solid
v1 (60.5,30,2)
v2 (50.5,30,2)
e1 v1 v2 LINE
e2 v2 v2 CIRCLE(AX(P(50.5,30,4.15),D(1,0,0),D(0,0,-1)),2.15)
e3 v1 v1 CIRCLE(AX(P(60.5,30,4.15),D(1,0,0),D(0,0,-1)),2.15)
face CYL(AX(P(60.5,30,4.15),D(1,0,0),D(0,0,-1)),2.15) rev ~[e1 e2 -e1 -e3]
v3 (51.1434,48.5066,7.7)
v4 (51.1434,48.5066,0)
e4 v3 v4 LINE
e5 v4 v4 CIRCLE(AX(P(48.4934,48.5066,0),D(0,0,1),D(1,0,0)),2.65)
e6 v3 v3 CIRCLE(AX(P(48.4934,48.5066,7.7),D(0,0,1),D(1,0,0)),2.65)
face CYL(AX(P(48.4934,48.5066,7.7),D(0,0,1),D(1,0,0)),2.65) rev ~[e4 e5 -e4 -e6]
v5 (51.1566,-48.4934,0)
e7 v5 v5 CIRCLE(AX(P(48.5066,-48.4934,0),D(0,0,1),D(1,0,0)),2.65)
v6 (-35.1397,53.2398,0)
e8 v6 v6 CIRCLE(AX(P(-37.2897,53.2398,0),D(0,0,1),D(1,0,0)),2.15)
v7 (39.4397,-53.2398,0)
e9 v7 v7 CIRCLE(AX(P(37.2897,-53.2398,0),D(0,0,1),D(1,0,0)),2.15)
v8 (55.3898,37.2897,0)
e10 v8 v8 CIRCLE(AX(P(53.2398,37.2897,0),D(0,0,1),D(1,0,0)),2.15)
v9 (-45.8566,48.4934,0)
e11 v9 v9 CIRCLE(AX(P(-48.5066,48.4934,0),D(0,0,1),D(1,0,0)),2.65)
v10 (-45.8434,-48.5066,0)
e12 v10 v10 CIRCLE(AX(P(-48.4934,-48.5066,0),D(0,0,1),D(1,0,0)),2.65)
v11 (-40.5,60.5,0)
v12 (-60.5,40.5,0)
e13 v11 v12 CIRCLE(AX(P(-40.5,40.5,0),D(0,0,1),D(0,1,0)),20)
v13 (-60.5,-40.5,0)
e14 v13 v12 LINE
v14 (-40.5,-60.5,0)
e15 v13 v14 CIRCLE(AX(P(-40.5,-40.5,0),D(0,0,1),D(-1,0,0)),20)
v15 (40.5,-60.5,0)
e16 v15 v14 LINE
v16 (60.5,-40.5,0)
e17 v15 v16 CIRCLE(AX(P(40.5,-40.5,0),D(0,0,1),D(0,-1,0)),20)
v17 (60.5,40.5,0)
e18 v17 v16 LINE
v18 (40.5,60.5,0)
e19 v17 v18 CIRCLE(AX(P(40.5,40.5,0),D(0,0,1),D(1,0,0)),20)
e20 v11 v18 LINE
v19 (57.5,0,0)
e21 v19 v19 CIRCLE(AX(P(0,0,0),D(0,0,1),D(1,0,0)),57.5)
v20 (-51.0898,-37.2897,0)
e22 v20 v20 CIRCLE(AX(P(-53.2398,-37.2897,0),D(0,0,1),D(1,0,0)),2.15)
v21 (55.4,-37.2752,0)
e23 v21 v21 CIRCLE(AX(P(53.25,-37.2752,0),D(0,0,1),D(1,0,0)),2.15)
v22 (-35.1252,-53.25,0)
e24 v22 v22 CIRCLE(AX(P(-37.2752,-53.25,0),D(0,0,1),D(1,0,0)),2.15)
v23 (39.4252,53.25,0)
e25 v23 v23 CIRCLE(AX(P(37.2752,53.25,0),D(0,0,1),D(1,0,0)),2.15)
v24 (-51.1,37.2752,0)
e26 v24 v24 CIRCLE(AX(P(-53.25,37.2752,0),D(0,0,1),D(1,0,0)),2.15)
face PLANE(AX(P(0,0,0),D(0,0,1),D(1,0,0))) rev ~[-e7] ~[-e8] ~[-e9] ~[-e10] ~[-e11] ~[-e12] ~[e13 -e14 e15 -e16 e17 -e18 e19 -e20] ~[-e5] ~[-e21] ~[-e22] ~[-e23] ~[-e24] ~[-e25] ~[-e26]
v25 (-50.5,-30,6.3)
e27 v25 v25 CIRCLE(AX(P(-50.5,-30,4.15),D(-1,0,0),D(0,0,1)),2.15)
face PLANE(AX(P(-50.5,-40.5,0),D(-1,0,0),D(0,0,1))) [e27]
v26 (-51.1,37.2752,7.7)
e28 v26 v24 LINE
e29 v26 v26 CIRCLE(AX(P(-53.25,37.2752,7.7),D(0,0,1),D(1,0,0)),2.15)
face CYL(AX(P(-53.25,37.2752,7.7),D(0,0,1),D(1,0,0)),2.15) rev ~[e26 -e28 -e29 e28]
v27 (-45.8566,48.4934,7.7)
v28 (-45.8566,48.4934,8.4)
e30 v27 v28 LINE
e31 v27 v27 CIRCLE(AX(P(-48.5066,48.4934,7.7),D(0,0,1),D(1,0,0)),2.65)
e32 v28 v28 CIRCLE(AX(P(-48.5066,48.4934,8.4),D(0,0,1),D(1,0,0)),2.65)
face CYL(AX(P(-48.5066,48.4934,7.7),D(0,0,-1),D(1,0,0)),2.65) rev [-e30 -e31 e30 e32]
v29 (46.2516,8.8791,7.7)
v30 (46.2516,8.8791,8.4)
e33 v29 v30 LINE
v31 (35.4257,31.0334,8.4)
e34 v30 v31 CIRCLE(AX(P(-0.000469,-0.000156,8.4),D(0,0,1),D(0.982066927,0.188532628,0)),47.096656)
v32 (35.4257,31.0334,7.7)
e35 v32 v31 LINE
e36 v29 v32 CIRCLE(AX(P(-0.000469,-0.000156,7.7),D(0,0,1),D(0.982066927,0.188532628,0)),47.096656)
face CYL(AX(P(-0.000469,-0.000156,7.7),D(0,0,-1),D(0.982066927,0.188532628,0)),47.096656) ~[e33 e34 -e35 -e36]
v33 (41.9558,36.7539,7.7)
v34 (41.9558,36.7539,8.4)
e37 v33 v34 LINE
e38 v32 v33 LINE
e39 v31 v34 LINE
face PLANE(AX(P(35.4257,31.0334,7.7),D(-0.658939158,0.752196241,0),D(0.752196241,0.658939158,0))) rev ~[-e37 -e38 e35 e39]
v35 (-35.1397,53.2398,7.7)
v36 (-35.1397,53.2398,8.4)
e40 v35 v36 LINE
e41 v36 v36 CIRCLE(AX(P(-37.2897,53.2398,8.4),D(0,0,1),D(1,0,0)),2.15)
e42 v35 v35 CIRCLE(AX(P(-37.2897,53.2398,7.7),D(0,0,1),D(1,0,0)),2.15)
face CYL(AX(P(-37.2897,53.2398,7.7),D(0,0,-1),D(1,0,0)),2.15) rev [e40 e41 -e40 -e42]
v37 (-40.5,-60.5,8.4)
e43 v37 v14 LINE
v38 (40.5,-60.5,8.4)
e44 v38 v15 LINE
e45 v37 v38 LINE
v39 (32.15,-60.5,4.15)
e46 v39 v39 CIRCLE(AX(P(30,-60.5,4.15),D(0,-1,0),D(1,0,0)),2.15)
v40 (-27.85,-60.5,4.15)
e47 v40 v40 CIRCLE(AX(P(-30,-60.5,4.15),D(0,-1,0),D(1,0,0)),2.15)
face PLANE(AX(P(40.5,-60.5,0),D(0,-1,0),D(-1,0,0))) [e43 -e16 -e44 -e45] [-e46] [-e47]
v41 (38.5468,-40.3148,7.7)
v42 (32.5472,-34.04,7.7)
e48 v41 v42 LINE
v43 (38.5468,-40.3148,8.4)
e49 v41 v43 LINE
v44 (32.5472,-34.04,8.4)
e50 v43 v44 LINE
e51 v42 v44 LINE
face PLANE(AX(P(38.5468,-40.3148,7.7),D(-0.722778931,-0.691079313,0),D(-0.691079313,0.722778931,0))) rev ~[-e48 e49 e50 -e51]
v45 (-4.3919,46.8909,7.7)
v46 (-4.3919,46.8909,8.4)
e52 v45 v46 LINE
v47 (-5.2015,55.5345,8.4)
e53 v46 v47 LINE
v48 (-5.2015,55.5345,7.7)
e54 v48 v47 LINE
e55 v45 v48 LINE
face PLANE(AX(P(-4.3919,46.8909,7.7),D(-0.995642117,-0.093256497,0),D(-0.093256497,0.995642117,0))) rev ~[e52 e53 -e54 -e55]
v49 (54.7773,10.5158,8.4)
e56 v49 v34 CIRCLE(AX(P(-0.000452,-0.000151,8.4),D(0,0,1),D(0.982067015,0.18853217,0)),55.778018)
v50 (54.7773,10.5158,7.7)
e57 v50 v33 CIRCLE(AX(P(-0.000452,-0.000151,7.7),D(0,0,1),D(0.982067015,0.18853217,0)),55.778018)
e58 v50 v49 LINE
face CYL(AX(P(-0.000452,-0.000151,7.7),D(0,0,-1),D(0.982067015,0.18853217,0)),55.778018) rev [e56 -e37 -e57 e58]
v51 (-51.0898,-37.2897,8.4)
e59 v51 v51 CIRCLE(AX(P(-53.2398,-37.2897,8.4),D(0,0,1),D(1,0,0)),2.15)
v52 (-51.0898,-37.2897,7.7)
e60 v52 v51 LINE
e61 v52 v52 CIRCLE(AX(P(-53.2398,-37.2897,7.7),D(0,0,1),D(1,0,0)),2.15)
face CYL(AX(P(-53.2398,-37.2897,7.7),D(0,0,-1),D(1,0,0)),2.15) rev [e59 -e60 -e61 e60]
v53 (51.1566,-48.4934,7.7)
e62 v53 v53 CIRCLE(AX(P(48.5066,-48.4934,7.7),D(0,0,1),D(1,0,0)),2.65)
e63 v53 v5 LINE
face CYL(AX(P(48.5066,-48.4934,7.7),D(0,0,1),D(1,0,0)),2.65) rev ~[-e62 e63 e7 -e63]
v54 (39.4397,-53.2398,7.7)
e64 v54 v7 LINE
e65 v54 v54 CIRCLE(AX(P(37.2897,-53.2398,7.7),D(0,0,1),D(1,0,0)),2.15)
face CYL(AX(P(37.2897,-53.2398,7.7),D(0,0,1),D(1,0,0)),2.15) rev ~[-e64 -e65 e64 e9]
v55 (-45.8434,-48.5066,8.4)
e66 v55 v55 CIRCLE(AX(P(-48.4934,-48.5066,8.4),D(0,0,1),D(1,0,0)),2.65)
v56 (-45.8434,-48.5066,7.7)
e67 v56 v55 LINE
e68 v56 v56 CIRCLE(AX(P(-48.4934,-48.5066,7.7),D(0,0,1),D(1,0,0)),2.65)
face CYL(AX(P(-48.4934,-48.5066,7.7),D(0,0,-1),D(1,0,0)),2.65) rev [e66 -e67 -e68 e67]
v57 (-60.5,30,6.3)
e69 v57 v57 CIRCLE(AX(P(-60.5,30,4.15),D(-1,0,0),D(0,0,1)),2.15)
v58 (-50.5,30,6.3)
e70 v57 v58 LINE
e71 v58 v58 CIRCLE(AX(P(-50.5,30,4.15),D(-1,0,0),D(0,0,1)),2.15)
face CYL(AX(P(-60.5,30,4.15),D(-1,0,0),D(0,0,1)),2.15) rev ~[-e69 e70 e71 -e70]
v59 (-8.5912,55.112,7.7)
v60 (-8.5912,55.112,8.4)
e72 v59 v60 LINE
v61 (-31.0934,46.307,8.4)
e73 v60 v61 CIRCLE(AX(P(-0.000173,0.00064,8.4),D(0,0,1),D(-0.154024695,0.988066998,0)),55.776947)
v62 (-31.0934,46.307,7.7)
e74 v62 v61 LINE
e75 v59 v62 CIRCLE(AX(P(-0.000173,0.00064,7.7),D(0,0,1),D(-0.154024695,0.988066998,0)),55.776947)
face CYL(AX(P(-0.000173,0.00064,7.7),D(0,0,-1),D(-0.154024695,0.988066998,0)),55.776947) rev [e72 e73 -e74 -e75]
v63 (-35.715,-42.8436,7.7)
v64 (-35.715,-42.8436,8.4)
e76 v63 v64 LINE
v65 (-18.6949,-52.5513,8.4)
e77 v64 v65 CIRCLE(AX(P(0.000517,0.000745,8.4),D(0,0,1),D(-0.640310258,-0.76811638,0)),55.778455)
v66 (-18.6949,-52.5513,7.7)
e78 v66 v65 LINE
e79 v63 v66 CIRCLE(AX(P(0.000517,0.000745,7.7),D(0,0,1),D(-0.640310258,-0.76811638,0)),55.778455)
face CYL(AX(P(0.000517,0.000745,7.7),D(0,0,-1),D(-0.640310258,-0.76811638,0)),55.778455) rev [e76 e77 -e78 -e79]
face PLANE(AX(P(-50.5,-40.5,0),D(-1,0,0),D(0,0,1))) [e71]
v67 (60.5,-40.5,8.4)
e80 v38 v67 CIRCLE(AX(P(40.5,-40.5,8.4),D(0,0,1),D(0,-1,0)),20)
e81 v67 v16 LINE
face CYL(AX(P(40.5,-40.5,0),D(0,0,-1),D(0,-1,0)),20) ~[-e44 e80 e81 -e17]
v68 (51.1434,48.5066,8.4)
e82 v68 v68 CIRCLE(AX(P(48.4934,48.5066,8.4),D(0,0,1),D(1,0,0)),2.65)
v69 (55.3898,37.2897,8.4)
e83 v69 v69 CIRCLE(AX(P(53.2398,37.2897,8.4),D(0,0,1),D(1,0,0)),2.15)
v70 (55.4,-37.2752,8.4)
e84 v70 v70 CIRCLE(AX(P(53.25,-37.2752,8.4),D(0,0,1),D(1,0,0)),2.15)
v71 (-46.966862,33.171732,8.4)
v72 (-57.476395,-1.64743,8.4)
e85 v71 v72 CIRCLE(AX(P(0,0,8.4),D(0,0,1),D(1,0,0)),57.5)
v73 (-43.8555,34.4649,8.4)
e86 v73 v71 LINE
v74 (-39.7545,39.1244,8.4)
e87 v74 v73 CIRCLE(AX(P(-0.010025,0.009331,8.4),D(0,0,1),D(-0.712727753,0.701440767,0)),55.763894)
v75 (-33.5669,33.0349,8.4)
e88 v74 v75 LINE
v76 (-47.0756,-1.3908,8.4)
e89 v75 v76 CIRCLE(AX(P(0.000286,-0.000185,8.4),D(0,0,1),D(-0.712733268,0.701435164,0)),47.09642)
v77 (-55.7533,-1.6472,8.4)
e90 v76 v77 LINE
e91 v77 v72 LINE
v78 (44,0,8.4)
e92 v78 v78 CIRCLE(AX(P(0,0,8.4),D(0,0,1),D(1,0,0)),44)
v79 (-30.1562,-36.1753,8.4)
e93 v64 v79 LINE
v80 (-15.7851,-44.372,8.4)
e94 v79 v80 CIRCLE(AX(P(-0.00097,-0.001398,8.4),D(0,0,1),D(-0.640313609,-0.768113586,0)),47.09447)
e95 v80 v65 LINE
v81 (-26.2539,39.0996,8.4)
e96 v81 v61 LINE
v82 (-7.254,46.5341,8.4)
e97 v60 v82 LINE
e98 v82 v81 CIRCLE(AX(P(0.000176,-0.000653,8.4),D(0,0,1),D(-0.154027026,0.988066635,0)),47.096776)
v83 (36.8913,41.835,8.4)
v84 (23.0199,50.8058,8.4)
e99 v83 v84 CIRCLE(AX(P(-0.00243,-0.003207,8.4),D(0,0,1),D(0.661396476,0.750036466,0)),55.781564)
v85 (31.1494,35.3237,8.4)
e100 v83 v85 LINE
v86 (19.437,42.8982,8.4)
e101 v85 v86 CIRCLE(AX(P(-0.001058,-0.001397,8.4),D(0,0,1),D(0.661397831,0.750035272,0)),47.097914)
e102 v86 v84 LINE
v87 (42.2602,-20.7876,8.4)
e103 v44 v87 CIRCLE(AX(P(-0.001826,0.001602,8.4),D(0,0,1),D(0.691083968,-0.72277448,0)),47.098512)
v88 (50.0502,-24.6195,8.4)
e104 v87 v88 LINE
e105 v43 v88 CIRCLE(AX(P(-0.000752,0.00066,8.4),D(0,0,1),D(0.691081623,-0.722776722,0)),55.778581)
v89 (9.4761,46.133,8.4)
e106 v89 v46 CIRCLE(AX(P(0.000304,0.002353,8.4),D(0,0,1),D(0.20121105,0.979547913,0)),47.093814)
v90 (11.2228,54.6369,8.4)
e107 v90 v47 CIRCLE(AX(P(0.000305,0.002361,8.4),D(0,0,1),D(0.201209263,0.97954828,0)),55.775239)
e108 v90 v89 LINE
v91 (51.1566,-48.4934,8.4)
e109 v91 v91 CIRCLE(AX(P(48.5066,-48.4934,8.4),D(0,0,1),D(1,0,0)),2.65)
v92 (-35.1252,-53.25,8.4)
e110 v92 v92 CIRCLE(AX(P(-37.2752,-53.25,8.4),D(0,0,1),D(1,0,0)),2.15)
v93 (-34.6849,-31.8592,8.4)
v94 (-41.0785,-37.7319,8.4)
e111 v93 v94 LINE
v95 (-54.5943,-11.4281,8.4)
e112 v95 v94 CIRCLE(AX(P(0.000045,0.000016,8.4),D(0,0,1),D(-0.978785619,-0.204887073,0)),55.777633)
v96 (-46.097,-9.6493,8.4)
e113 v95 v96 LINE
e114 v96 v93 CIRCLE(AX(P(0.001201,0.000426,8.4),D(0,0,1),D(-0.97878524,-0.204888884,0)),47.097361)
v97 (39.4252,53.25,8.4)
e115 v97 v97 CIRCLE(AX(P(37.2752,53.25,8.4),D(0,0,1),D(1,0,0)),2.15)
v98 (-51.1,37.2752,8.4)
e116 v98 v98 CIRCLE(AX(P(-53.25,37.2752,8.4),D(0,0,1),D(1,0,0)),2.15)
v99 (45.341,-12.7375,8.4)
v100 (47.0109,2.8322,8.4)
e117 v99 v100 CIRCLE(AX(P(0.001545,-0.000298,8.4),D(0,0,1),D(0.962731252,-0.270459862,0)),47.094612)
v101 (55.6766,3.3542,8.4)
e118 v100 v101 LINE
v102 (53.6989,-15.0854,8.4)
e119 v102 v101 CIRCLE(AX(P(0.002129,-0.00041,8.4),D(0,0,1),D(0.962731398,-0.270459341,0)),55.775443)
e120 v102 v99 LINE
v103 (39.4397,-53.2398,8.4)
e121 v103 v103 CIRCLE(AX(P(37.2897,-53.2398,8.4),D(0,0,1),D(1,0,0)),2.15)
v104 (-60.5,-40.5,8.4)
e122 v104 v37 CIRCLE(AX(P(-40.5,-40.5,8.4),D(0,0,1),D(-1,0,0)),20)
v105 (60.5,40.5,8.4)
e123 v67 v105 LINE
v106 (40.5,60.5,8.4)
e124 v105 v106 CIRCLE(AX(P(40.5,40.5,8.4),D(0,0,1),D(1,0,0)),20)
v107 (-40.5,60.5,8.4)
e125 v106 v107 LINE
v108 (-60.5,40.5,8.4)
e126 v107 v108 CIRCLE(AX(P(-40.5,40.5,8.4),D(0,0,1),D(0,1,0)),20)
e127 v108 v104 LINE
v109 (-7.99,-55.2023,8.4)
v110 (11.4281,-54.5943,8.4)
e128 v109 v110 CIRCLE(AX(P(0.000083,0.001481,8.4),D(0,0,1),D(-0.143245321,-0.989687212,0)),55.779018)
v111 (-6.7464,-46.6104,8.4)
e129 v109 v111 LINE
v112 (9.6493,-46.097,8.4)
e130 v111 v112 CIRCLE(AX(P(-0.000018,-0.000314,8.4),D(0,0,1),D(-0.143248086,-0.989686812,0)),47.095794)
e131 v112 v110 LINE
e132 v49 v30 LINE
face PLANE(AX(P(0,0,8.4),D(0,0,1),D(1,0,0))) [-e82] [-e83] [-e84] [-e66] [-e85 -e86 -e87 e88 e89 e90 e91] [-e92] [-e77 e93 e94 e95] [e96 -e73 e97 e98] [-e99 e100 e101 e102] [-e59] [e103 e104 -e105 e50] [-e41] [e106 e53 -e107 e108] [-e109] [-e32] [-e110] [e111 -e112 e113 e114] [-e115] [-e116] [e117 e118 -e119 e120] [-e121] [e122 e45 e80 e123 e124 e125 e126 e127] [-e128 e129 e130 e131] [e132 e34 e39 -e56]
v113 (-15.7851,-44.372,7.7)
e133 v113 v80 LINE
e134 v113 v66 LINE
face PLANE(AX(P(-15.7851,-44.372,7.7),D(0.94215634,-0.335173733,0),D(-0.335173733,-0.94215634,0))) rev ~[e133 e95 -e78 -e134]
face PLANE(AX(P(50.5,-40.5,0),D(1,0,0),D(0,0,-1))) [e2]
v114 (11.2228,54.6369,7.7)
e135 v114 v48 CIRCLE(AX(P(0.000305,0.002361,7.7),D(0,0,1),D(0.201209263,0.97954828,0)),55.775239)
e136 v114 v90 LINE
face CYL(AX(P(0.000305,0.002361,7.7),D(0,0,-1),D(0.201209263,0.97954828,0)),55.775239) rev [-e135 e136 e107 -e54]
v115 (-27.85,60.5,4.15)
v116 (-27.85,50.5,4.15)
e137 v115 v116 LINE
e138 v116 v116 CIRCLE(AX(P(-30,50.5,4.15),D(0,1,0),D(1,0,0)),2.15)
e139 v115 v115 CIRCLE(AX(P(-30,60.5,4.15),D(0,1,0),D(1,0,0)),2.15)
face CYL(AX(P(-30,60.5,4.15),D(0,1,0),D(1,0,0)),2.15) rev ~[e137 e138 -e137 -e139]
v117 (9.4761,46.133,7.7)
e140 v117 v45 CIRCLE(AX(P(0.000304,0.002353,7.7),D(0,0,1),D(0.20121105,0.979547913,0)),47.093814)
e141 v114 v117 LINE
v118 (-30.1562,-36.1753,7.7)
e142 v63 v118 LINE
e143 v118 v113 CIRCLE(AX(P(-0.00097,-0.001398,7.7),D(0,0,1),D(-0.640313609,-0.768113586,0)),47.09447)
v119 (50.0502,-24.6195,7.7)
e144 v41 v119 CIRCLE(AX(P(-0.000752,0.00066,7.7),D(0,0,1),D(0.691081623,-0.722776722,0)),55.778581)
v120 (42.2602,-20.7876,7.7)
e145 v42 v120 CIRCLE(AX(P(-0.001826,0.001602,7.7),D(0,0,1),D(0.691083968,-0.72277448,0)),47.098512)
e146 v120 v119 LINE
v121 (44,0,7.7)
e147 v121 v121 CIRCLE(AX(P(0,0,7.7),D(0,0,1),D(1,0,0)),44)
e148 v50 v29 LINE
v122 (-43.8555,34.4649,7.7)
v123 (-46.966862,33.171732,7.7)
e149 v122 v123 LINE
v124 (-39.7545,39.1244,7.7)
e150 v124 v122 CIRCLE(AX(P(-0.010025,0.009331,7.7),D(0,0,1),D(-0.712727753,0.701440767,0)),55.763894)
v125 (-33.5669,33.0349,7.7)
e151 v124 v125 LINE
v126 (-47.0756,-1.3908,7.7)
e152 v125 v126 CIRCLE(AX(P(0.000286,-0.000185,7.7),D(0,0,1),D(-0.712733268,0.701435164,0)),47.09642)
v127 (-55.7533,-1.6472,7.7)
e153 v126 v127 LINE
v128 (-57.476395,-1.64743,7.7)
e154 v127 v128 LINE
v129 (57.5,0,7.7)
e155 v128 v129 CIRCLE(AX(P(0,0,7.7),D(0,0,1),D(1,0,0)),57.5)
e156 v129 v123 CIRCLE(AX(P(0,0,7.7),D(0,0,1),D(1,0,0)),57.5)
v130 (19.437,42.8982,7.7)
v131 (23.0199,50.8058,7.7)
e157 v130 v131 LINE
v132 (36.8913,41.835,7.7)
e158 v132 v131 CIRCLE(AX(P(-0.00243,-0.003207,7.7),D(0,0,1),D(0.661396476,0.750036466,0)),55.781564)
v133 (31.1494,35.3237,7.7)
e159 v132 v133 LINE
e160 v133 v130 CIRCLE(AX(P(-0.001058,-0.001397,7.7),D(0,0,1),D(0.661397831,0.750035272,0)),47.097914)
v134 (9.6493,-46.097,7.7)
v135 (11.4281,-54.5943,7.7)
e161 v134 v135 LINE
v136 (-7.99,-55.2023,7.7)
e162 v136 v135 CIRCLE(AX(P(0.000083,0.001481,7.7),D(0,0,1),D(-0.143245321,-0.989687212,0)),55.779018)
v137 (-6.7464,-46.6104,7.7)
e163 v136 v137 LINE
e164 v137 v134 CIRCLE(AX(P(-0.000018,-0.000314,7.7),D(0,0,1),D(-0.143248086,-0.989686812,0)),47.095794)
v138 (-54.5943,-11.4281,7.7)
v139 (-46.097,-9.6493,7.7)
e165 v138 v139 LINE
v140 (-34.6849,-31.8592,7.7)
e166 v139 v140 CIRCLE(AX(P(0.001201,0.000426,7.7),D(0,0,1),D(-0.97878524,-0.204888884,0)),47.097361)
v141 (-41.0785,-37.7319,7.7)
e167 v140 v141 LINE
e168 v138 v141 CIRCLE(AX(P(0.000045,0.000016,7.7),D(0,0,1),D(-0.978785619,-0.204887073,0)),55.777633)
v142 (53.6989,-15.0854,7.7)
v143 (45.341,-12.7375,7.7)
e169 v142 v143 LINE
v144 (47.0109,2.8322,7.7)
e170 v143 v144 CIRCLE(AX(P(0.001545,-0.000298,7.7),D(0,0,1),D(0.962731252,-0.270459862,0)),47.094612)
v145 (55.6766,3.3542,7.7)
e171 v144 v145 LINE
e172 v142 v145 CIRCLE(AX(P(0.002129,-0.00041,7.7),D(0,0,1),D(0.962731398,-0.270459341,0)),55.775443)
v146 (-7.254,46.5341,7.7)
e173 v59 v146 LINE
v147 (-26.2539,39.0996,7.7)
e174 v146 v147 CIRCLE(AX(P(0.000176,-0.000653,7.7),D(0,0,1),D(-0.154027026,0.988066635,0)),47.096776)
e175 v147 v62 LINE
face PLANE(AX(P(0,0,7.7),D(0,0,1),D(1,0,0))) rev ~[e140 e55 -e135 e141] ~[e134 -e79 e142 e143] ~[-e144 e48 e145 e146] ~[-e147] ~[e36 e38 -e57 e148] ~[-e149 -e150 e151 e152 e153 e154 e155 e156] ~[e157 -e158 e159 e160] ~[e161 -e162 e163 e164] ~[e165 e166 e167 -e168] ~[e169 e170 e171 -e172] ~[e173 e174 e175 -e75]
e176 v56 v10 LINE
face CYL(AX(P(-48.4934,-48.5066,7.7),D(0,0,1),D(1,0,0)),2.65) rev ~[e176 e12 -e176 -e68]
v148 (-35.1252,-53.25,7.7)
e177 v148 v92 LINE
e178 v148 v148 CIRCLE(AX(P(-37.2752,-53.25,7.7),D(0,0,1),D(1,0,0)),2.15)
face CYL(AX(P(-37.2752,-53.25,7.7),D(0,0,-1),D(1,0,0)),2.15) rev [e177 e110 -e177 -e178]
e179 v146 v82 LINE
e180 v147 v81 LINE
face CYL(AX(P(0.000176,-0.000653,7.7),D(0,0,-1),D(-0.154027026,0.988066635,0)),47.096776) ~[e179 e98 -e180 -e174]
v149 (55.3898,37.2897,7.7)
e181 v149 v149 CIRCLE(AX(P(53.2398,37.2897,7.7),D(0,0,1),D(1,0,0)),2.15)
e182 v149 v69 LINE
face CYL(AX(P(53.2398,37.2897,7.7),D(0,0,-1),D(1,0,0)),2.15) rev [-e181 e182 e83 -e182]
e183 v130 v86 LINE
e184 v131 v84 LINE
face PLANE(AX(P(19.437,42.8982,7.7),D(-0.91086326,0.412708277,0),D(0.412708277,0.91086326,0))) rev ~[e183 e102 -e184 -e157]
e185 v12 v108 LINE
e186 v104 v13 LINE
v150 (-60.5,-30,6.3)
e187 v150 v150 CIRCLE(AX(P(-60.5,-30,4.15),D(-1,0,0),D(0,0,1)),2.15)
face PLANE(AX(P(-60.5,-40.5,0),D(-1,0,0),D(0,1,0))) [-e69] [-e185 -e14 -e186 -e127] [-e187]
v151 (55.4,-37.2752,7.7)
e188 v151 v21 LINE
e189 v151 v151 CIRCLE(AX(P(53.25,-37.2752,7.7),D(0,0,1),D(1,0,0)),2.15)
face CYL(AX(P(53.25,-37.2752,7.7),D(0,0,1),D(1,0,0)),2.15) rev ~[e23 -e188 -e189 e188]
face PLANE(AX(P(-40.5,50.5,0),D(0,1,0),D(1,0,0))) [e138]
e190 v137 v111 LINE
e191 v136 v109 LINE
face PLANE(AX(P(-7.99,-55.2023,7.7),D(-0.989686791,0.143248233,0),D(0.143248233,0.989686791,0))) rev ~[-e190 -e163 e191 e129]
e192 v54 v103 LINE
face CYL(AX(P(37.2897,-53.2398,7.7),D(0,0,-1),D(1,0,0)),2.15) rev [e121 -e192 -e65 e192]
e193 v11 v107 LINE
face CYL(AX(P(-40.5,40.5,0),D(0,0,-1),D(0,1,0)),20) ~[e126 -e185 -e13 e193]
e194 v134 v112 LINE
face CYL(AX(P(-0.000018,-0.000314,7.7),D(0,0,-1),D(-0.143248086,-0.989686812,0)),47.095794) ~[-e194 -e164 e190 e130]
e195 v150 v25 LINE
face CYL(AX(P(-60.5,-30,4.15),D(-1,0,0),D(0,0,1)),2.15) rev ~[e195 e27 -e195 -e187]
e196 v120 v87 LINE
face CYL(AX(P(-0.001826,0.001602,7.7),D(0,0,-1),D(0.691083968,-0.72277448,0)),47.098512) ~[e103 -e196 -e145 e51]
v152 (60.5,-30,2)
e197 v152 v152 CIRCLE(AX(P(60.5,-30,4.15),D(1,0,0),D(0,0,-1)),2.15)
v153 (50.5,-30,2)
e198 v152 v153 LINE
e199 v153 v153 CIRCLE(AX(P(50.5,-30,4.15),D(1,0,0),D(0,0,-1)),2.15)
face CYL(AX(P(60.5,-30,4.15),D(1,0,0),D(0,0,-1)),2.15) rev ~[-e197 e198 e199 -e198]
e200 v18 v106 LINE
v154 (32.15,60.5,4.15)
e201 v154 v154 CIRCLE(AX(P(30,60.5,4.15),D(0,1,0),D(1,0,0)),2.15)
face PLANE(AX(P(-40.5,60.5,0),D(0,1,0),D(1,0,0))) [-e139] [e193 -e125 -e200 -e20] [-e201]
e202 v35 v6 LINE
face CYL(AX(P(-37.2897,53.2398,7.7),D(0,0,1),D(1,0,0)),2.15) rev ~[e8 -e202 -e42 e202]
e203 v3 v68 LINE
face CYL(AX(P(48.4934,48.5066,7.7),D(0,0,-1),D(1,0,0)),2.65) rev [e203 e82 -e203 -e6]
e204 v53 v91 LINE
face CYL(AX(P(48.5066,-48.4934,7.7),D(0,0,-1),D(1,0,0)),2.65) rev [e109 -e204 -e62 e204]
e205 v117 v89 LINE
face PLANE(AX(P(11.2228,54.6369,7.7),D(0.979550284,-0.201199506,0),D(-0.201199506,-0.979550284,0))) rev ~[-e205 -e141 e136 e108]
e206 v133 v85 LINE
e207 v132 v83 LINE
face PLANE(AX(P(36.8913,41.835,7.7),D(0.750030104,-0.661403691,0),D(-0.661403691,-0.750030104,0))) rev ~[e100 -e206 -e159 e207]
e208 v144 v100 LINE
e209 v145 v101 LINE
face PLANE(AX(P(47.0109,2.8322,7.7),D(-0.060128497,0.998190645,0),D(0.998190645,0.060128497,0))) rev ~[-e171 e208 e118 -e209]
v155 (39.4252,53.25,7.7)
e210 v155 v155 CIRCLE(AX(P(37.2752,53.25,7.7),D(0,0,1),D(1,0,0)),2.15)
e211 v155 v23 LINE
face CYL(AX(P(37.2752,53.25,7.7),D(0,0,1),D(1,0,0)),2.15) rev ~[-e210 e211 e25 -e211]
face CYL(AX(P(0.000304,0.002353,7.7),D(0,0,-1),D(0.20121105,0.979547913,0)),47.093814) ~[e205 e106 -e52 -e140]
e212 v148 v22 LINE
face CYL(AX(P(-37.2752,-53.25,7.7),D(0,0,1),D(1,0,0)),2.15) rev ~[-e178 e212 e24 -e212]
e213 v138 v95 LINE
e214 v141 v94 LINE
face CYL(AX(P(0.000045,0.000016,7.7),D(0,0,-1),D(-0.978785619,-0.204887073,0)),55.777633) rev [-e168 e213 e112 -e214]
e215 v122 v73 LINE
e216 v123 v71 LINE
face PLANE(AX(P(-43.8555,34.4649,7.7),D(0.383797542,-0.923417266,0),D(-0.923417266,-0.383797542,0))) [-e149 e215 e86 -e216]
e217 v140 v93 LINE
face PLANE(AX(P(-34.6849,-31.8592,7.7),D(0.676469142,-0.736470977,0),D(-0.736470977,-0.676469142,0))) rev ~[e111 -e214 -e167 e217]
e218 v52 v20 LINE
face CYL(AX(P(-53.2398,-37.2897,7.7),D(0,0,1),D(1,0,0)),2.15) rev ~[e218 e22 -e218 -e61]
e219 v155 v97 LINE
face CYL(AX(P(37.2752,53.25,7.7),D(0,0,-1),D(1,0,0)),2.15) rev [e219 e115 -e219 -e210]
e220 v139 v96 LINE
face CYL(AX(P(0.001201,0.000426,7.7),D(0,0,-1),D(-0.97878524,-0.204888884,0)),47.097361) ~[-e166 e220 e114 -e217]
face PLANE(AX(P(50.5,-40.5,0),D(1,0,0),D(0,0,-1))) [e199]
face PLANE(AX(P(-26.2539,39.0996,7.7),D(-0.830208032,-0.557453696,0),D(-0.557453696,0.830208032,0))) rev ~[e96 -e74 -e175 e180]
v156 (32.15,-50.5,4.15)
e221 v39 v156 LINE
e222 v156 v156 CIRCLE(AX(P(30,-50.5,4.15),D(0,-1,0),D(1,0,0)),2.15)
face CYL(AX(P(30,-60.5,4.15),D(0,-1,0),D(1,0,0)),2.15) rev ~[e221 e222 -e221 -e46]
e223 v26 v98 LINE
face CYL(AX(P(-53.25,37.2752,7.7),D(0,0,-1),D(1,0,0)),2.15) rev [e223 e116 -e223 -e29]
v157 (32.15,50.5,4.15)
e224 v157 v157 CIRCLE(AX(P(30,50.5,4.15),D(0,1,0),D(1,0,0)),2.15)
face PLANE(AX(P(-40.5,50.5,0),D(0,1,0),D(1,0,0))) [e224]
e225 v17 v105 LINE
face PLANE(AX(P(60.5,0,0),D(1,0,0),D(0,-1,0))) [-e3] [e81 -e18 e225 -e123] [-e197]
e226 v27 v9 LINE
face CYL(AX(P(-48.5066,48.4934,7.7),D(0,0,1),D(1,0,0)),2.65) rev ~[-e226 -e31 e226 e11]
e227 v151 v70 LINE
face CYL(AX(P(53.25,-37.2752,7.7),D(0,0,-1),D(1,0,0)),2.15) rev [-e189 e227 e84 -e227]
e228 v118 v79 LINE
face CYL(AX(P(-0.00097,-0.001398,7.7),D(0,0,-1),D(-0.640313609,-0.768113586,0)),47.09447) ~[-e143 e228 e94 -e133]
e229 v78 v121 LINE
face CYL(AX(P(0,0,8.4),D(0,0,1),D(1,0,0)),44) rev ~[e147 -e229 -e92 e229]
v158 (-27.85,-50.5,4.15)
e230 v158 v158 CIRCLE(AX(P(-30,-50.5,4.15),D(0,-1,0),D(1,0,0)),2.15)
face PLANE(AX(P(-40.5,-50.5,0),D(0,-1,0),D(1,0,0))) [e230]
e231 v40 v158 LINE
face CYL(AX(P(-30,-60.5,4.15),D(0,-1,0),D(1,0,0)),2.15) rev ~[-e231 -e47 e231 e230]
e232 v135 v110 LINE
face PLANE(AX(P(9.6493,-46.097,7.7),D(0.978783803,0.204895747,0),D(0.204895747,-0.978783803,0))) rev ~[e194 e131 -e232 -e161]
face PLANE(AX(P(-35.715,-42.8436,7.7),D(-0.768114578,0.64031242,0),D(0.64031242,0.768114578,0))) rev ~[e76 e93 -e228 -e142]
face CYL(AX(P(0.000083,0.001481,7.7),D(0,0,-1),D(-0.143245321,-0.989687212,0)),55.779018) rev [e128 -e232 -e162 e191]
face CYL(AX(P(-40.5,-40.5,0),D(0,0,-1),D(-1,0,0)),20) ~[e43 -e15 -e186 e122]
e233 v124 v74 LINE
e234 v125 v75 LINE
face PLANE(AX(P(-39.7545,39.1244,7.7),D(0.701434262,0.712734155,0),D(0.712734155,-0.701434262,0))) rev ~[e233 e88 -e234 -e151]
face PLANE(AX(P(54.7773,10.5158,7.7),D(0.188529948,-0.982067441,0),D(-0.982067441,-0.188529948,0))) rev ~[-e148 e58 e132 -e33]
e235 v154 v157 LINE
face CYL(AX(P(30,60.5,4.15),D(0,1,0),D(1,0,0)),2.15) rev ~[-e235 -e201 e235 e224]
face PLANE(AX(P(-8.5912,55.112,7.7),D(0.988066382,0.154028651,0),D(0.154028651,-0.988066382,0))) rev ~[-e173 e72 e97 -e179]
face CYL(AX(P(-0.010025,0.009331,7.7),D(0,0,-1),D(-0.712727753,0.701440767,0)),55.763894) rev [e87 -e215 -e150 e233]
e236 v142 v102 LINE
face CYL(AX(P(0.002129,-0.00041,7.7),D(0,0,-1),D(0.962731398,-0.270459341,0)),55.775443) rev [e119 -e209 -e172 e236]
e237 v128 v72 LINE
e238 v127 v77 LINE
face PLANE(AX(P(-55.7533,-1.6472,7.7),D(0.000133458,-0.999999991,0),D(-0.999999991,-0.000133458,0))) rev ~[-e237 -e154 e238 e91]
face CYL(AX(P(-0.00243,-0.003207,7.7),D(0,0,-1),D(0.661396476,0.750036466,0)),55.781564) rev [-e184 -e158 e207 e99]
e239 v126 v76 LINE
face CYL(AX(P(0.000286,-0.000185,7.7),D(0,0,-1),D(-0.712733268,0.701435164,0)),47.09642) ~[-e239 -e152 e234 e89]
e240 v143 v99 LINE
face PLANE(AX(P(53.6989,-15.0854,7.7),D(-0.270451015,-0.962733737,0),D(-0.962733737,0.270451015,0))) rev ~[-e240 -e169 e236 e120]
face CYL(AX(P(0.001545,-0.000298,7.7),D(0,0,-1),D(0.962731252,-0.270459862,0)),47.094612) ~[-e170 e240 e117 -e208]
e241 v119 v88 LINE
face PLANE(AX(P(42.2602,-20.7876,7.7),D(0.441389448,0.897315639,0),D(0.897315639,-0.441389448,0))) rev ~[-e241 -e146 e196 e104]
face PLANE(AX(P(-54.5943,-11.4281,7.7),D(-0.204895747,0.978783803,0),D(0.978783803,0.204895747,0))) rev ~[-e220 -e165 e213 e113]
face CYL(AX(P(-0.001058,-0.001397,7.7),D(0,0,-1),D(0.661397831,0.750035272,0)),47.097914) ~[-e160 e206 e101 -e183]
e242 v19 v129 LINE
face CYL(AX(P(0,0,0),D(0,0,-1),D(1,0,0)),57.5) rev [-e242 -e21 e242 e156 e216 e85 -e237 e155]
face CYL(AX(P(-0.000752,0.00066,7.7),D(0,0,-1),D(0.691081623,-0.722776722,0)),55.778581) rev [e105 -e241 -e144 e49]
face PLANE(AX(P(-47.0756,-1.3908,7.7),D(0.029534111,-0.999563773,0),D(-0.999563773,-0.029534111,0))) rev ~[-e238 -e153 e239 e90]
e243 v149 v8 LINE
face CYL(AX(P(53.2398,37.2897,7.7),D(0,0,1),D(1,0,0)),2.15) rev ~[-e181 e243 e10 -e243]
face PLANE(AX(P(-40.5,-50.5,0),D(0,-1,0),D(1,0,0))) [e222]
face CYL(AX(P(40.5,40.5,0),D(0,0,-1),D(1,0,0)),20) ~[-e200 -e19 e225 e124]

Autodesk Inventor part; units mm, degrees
ref_plane "YZ Plane" through (0, 0, 0) normal (1, 0, 0) x (0, 1, 0)
ref_plane "XZ Plane" through (0, 0, 0) normal (0, 1, 0) x (-1, 0, 0)
ref_plane "XY Plane" through (0, 0, 0) normal (0, 0, 1) x (1, 0, 0)
sketch "Sketch1" plane through (0, 0, 0) normal (0, 0, 1) x (1, 0, 0)
  circle A0 centre (0, 0) radius 57.5
  circle A1 centre (0, 0) radius 60.5
  line L0 (-40.5, 60.5) -> (40.5, 60.5)
  line L1 (60.5, 40.5) -> (60.5, -40.5)
  line L2 (40.5, -60.5) -> (-40.5, -60.5)
  line L3 (-60.5, -40.5) -> (-60.5, 40.5)
  arc A2 (-40.5, 60.5) -> (-60.5, 40.5) centre (-40.5, 40.5) ccw
  arc A3 (60.5, 40.5) -> (40.5, 60.5) centre (40.5, 40.5) ccw
  arc A4 (40.5, -60.5) -> (60.5, -40.5) centre (40.5, -40.5) ccw
  arc A5 (-60.5, -40.5) -> (-40.5, -60.5) centre (-40.5, -40.5) ccw
  dimension "d0" = 115
  dimension "d1" = 121
  dimension "d2" = 20
extrude "Extrusion1" add sketch "Sketch1" along normal blind 7.7
sketch "Sketch3" plane through (0, 0, 7.7) normal (0, 0, 1) x (1, 0, 0)
  circle A0 centre (-48.4934, -48.5066) radius 2.65 projected
  circle A1 centre (-37.2752, -53.25) radius 2.15 projected
  circle A2 centre (-53.2398, -37.2897) radius 2.15 projected
  circle A3 centre (-53.25, 37.2752) radius 2.15 projected
  circle A4 centre (-48.5066, 48.4934) radius 2.65 projected
  circle A5 centre (-37.2897, 53.2398) radius 2.15 projected
  circle A6 centre (53.2398, 37.2897) radius 2.15 projected
  circle A7 centre (48.4934, 48.5066) radius 2.65 projected
  circle A8 centre (37.2752, 53.25) radius 2.15 projected
  circle A9 centre (53.25, -37.2752) radius 2.15 projected
  circle A10 centre (48.5066, -48.4934) radius 2.65 projected
  circle A11 centre (37.2897, -53.2398) radius 2.15 projected
  point P0 (0, 0)
extrude "Extrusion3" cut sketch "Sketch3" against normal through all
sketch "Sketch4" plane through (0, 0, 7.7) normal (0, 0, 1) x (1, 0, 0)
  circle A0 centre (0, 0) radius 29 projected
  line L0 (9.6493, -46.097) -> (11.4281, -54.5943) projected
  arc A1 (-7.99, -55.2023) -> (11.4281, -54.5943) centre (0, 0) ccw projected
  line L1 (-7.99, -55.2023) -> (-6.7464, -46.6104) projected
  arc A2 (-6.7464, -46.6104) -> (9.6493, -46.097) centre (0, 0) ccw projected
  line L2 (-26.2539, 39.0996) -> (-31.0934, 46.307) projected
  arc A3 (-8.5912, 55.112) -> (-31.0934, 46.307) centre (0, 0) ccw projected
  line L3 (-8.5912, 55.112) -> (-7.254, 46.5341) projected
  arc A4 (-7.254, 46.5341) -> (-26.2539, 39.0996) centre (0, 0) ccw projected
  line L4 (53.6989, -15.0854) -> (45.341, -12.7375) projected
  arc A5 (45.341, -12.7375) -> (47.0109, 2.8322) centre (0, 0) ccw projected
  line L5 (47.0109, 2.8322) -> (55.6766, 3.3542) projected
  arc A6 (53.6989, -15.0854) -> (55.6766, 3.3542) centre (0, 0) ccw projected
  line L6 (54.7773, 10.5158) -> (46.2516, 8.8791) projected
  arc A7 (46.2516, 8.8791) -> (35.4257, 31.0334) centre (0, 0) ccw projected
  line L7 (35.4257, 31.0334) -> (41.9558, 36.7539) projected
  arc A8 (54.7773, 10.5158) -> (41.9558, 36.7539) centre (0, 0) ccw projected
  line L8 (-15.7851, -44.372) -> (-18.6949, -52.5513) projected
  arc A9 (-35.715, -42.8436) -> (-18.6949, -52.5513) centre (0, 0) ccw projected
  line L9 (-35.715, -42.8436) -> (-30.1562, -36.1753) projected
  arc A10 (-30.1562, -36.1753) -> (-15.7851, -44.372) centre (0, 0) ccw projected
  line L10 (11.2228, 54.6369) -> (9.4761, 46.133) projected
  arc A11 (9.4761, 46.133) -> (-4.3919, 46.8909) centre (0, 0) ccw projected
  line L11 (-4.3919, 46.8909) -> (-5.2015, 55.5345) projected
  arc A12 (11.2228, 54.6369) -> (-5.2015, 55.5345) centre (0, 0) ccw projected
  line L12 (38.5468, -40.3148) -> (32.5472, -34.04) projected
  arc A13 (32.5472, -34.04) -> (42.2602, -20.7876) centre (0, 0) ccw projected
  line L13 (42.2602, -20.7876) -> (50.0502, -24.6195) projected
  arc A14 (38.5468, -40.3148) -> (50.0502, -24.6195) centre (0, 0) ccw projected
  line L14 (36.8913, 41.835) -> (31.1494, 35.3237) projected
  arc A15 (31.1494, 35.3237) -> (19.437, 42.8982) centre (0, 0) ccw projected
  line L15 (19.437, 42.8982) -> (23.0199, 50.8058) projected
  arc A16 (36.8913, 41.835) -> (23.0199, 50.8058) centre (0, 0) ccw projected
  line L16 (-34.6849, -31.8592) -> (-41.0785, -37.7319) projected
  arc A17 (-54.5943, -11.4281) -> (-41.0785, -37.7319) centre (0, 0) ccw projected
  line L17 (-54.5943, -11.4281) -> (-46.097, -9.6493) projected
  arc A18 (-46.097, -9.6493) -> (-34.6849, -31.8592) centre (0, 0) ccw projected
  circle A19 centre (37.2752, 53.25) radius 2.15 projected
  circle A20 centre (16.4961, 28.5811) radius 1.25 projected
  circle A21 centre (-37.2752, -53.25) radius 2.15 projected
  circle A22 centre (-37.2897, 53.2398) radius 2.15 projected
  circle A23 centre (48.5066, -48.4934) radius 2.65 projected
  circle A24 centre (-48.4934, -48.5066) radius 2.65 projected
  circle A25 centre (-53.25, 37.2752) radius 2.15 projected
  circle A26 centre (-53.2398, -37.2897) radius 2.15 projected
  circle A27 centre (16.5039, -28.5766) radius 1.25 projected
  circle A28 centre (53.2398, 37.2897) radius 2.15 projected
  circle A29 centre (53.25, -37.2752) radius 2.15 projected
  circle A30 centre (-16.4961, -28.5811) radius 1.25 projected
  circle A31 centre (-16.5039, 28.5766) radius 1.25 projected
  circle A32 centre (48.4934, 48.5066) radius 2.65 projected
  circle A33 centre (-48.5066, 48.4934) radius 2.65 projected
  circle A34 centre (-33, -0.0045) radius 1.25 projected
  circle A35 centre (37.2897, -53.2398) radius 2.15 projected
  circle A36 centre (33, 0.0045) radius 1.25 projected
  line L18 (-59.5162, 33.2815) -> (-60.5047, 34.4337) projected
  line L19 (-59.5162, 33.2815) -> (-50.1662, 31.842) projected
  line L20 (-43.8555, 34.4649) -> (-50.1662, 31.842) projected
  arc A37 (-39.7545, 39.1244) -> (-43.8555, 34.4649) centre (0, 0) ccw projected
  line L21 (-39.7545, 39.1244) -> (-33.5669, 33.0349) projected
  arc A38 (-33.5669, 33.0349) -> (-47.0756, -1.3908) centre (0, 0) ccw projected
  line L22 (-47.0756, -1.3908) -> (-55.7533, -1.6472) projected
  line L23 (-55.7533, -1.6472) -> (-59.4998, -1.6477) projected
  line L24 (-60.4996, -2.6478) -> (-59.4998, -1.6477) projected
  line L25 (-60.4996, -2.6478) -> (-60.4945, -40.5083) projected
  arc A39 (-60.4945, -40.5083) -> (-40.4917, -60.5055) centre (-40.4945, -40.5055) ccw projected
  line L26 (-40.4917, -60.5055) -> (40.5083, -60.4945) projected
  arc A40 (40.5083, -60.4945) -> (60.5055, -40.4917) centre (40.5055, -40.4945) ccw projected
  line L27 (60.5055, -40.4917) -> (60.4945, 40.5083) projected
  arc A41 (60.4945, 40.5083) -> (40.4917, 60.5055) centre (40.4945, 40.5055) ccw projected
  line L28 (40.4917, 60.5055) -> (-40.5083, 60.4945) projected
  arc A42 (-40.5083, 60.4945) -> (-60.5055, 40.4917) centre (-40.5055, 40.4945) ccw projected
  line L29 (-60.5055, 40.4917) -> (-60.5047, 34.4337) projected
  circle A43 centre (-53.2398, -37.2897) radius 2.15 projected
  circle A44 centre (53.2398, 37.2897) radius 2.15 projected
  circle A45 centre (48.5066, -48.4934) radius 2.65 projected
  circle A46 centre (37.2897, -53.2398) radius 2.15 projected
  circle A47 centre (-37.2897, 53.2398) radius 2.15 projected
  circle A48 centre (-48.4934, -48.5066) radius 2.65 projected
  circle A49 centre (-53.25, 37.2752) radius 2.15 projected
  circle A50 centre (48.4934, 48.5066) radius 2.65 projected
  circle A51 centre (53.25, -37.2752) radius 2.15 projected
  circle A52 centre (37.2752, 53.25) radius 2.15 projected
  circle A53 centre (-48.5066, 48.4934) radius 2.65 projected
  circle A54 centre (-37.2752, -53.25) radius 2.15 projected
  line L30 (-60.5, 40.5) -> (-60.5, -40.5) projected
  arc A55 (-60.5, -40.5) -> (-40.5, -60.5) centre (-40.5, -40.5) ccw projected
  line L31 (-40.5, -60.5) -> (40.5, -60.5) projected
  arc A56 (40.5, -60.5) -> (60.5, -40.5) centre (40.5, -40.5) ccw projected
  line L32 (60.5, -40.5) -> (60.5, 40.5) projected
  arc A57 (60.5, 40.5) -> (40.5, 60.5) centre (40.5, 40.5) ccw projected
  line L33 (40.5, 60.5) -> (-40.5, 60.5) projected
  arc A58 (-40.5, 60.5) -> (-60.5, 40.5) centre (-40.5, 40.5) ccw projected
  circle A59 centre (0, 0) radius 57.5 projected
  point P0 (-54.6384, -54.6459)
  point P1 (0.0041, -60.5)
  point P2 (54.6459, -54.6384)
  point P3 (60.5, 0.0041)
  point P4 (54.6384, 54.6459)
  point P5 (-0.0041, 60.5)
  point P6 (-54.6459, 54.6384)
  point P7 (-60.5, 34.4282)
  point P8 (-57.4764, -1.6474)
  point P9 (-46.9668, 33.1718)
extrude "Extrusion4" add sketch "Sketch4" along normal blind 0.7 contours L19 L20 A59 L23 L24 L30 L18 | L18 L30 A58 A42 L28 L33 A57 A41 L27 L32 A56 A40 L26 L31 A55 A39 L25 L24 L23 A59 L20 L19 | L25 A39 A55 L30 | A59 L23 L22 A38 L21 A37 L20 | A58 L33 L28 A42 | L26 A40 A56 L31 | A57 L32 L27 A41 picked at (17.5819, -42.3508)
sketch "Sketch5" plane through (0, 0, 8.4) normal (0, 0, 1) x (1, 0, 0)
  circle A0 centre (-33, -0.0045) radius 1.25 projected
  circle A1 centre (-33, -0.0045) radius 1.75
  circle A2 centre (-16.4961, -28.5811) radius 1.75
  circle A3 centre (16.5039, -28.5766) radius 1.75
  circle A4 centre (33, 0.0045) radius 1.75
  circle A5 centre (16.4961, 28.5811) radius 1.75
  circle A6 centre (-16.5039, 28.5766) radius 1.75
  point P0 (0, 0)
  dimension "d30" = 3.5
  dimension "d33" = 360
extrude "Extrusion5" cut sketch "Sketch5" against normal through all contours A0 | A1 | A2 | A3 | A4 | A5 | A6
sketch "Sketch6" plane through (0, 0, 7.7) normal (0, 0, -1) x (-1, 0, 0)
  circle A0 centre (0, 0) radius 35
  circle A1 centre (-33, 0.0045) radius 1.75 projected
  circle A2 centre (33, -0.0045) radius 1.75 projected
  circle A3 centre (-16.5039, -28.5766) radius 1.75 projected
  circle A4 centre (-16.4961, 28.5811) radius 1.75 projected
  circle A5 centre (16.5039, 28.5766) radius 1.75 projected
  circle A6 centre (16.4961, -28.5811) radius 1.75 projected
  circle A7 centre (0, 0) radius 29 projected
  line L0 (7.99, -55.2023) -> (6.7464, -46.6104) projected
  arc A8 (-11.4281, -54.5943) -> (7.99, -55.2023) centre (0, 0) ccw projected
  line L1 (-9.6493, -46.097) -> (-11.4281, -54.5943) projected
  arc A9 (-9.6493, -46.097) -> (6.7464, -46.6104) centre (0, 0) ccw projected
  line L2 (8.5912, 55.112) -> (7.254, 46.5341) projected
  arc A10 (31.0934, 46.307) -> (8.5912, 55.112) centre (0, 0) ccw projected
  line L3 (26.2539, 39.0996) -> (31.0934, 46.307) projected
  arc A11 (26.2539, 39.0996) -> (7.254, 46.5341) centre (0, 0) ccw projected
  line L4 (-53.6989, -15.0854) -> (-45.341, -12.7375) projected
  arc A12 (-55.6766, 3.3542) -> (-53.6989, -15.0854) centre (0, 0) ccw projected
  line L5 (-47.0109, 2.8322) -> (-55.6766, 3.3542) projected
  arc A13 (-47.0109, 2.8322) -> (-45.341, -12.7375) centre (0, 0) ccw projected
  line L6 (-54.7773, 10.5158) -> (-46.2516, 8.8791) projected
  arc A14 (-41.9558, 36.7539) -> (-54.7773, 10.5158) centre (0, 0) ccw projected
  line L7 (-35.4257, 31.0334) -> (-41.9558, 36.7539) projected
  arc A15 (-35.4257, 31.0334) -> (-46.2516, 8.8791) centre (0, 0) ccw projected
  line L8 (35.715, -42.8436) -> (30.1562, -36.1753) projected
  arc A16 (18.6949, -52.5513) -> (35.715, -42.8436) centre (0, 0) ccw projected
  line L9 (15.7851, -44.372) -> (18.6949, -52.5513) projected
  arc A17 (15.7851, -44.372) -> (30.1562, -36.1753) centre (0, 0) ccw projected
  line L10 (-11.2228, 54.6369) -> (-9.4761, 46.133) projected
  arc A18 (5.2015, 55.5345) -> (-11.2228, 54.6369) centre (0, 0) ccw projected
  line L11 (4.3919, 46.8909) -> (5.2015, 55.5345) projected
  arc A19 (4.3919, 46.8909) -> (-9.4761, 46.133) centre (0, 0) ccw projected
  line L12 (-38.5468, -40.3148) -> (-32.5472, -34.04) projected
  arc A20 (-50.0502, -24.6195) -> (-38.5468, -40.3148) centre (0, 0) ccw projected
  line L13 (-42.2602, -20.7876) -> (-50.0502, -24.6195) projected
  arc A21 (-42.2602, -20.7876) -> (-32.5472, -34.04) centre (0, 0) ccw projected
  line L14 (-36.8913, 41.835) -> (-31.1494, 35.3237) projected
  arc A22 (-23.0199, 50.8058) -> (-36.8913, 41.835) centre (0, 0) ccw projected
  line L15 (-19.437, 42.8982) -> (-23.0199, 50.8058) projected
  arc A23 (-19.437, 42.8982) -> (-31.1494, 35.3237) centre (0, 0) ccw projected
  line L16 (54.5943, -11.4281) -> (46.097, -9.6493) projected
  arc A24 (41.0785, -37.7319) -> (54.5943, -11.4281) centre (0, 0) ccw projected
  line L17 (34.6849, -31.8592) -> (41.0785, -37.7319) projected
  arc A25 (34.6849, -31.8592) -> (46.097, -9.6493) centre (0, 0) ccw projected
  arc A26 (46.9668, 33.1718) -> (57.4764, -1.6474) centre (0, 0) ccw projected
  line L18 (55.7533, -1.6472) -> (57.4764, -1.6474) projected
  line L19 (47.0756, -1.3908) -> (55.7533, -1.6472) projected
  arc A27 (47.0756, -1.3908) -> (33.5669, 33.0349) centre (0, 0) ccw projected
  line L20 (39.7545, 39.1244) -> (33.5669, 33.0349) projected
  arc A28 (43.8555, 34.4649) -> (39.7545, 39.1244) centre (0, 0) ccw projected
  line L21 (46.9668, 33.1718) -> (43.8555, 34.4649) projected
  dimension "d37" = 70
extrude "Extrusion6" add sketch "Sketch6" along normal blind 0.5 contours A0
sketch "Sketch8" plane through (0, 0, 8.4) normal (0, 0, 1) x (1, 0, 0)
  circle A0 centre (0, 0) radius 44
  dimension "d46" = 88
extrude "Extrusion8" cut sketch "Sketch8" against normal through all
sketch "Sketch9" plane through (-40.5, 60.5, 0) normal (0, 1, 0) x (1, 0, 0)
  circle A0 centre (10.5, -4.15) radius 2.15
  line L0 (101, 0) -> (101, -8.4) projected
  line L1 (-20, 0) -> (-20, -8.4) projected
  line L2 (81, -8.4) -> (0, -8.4) projected
  circle A1 centre (70.5, -4.15) radius 2.15
  point P0 (40.5, 0)
  dimension "d49" = 4.3
  dimension "d50" = 121
  dimension "d51" = 4.25
  dimension "d52" = 30.5
  dimension "d55" = 60
extrude "Extrusion9" cut sketch "Sketch9" against normal blind 10
sketch "Sketch10" plane through (-40.5, -60.5, 0) normal (0, -1, 0) x (1, 0, 0)
  circle A0 centre (10.5, 4.15) radius 2.15 projected
  circle A1 centre (70.5, 4.15) radius 2.15 projected
  point P0 (40.5, 0)
extrude "Extrusion10" cut sketch "Sketch10" against normal blind 10
sketch "Sketch11" plane through (60.5, -40.5, 0) normal (1, 0, 0) x (0, 0, -1)
  circle A0 centre (-4.15, 10.5) radius 2.15
  line L0 (0, 101) -> (-8.4, 101) projected
  line L1 (0, -20) -> (-8.4, -20) projected
  line L2 (-8.4, 0) -> (-8.4, -20) projected
  circle A1 centre (-4.15, 70.5) radius 2.15
  point P0 (0, 40.5)
  dimension "d64" = 4.3
  dimension "d65" = 121
  dimension "d66" = 4.25
  dimension "d67" = 30.5
  dimension "d70" = 60
extrude "Extrusion11" cut sketch "Sketch11" against normal blind 10
sketch "Sketch12" plane through (-60.5, -40.5, 0) normal (-1, 0, 0) x (0, 0, 1)
  circle A0 centre (4.15, 70.5) radius 2.15 projected
  circle A1 centre (4.15, 10.5) radius 2.15 projected
  point P0 (0, 40.5)
extrude "Extrusion12" cut sketch "Sketch12" against normal blind 10
properties part number "stator_center_01_p" material "PC/ABS Plastic"
